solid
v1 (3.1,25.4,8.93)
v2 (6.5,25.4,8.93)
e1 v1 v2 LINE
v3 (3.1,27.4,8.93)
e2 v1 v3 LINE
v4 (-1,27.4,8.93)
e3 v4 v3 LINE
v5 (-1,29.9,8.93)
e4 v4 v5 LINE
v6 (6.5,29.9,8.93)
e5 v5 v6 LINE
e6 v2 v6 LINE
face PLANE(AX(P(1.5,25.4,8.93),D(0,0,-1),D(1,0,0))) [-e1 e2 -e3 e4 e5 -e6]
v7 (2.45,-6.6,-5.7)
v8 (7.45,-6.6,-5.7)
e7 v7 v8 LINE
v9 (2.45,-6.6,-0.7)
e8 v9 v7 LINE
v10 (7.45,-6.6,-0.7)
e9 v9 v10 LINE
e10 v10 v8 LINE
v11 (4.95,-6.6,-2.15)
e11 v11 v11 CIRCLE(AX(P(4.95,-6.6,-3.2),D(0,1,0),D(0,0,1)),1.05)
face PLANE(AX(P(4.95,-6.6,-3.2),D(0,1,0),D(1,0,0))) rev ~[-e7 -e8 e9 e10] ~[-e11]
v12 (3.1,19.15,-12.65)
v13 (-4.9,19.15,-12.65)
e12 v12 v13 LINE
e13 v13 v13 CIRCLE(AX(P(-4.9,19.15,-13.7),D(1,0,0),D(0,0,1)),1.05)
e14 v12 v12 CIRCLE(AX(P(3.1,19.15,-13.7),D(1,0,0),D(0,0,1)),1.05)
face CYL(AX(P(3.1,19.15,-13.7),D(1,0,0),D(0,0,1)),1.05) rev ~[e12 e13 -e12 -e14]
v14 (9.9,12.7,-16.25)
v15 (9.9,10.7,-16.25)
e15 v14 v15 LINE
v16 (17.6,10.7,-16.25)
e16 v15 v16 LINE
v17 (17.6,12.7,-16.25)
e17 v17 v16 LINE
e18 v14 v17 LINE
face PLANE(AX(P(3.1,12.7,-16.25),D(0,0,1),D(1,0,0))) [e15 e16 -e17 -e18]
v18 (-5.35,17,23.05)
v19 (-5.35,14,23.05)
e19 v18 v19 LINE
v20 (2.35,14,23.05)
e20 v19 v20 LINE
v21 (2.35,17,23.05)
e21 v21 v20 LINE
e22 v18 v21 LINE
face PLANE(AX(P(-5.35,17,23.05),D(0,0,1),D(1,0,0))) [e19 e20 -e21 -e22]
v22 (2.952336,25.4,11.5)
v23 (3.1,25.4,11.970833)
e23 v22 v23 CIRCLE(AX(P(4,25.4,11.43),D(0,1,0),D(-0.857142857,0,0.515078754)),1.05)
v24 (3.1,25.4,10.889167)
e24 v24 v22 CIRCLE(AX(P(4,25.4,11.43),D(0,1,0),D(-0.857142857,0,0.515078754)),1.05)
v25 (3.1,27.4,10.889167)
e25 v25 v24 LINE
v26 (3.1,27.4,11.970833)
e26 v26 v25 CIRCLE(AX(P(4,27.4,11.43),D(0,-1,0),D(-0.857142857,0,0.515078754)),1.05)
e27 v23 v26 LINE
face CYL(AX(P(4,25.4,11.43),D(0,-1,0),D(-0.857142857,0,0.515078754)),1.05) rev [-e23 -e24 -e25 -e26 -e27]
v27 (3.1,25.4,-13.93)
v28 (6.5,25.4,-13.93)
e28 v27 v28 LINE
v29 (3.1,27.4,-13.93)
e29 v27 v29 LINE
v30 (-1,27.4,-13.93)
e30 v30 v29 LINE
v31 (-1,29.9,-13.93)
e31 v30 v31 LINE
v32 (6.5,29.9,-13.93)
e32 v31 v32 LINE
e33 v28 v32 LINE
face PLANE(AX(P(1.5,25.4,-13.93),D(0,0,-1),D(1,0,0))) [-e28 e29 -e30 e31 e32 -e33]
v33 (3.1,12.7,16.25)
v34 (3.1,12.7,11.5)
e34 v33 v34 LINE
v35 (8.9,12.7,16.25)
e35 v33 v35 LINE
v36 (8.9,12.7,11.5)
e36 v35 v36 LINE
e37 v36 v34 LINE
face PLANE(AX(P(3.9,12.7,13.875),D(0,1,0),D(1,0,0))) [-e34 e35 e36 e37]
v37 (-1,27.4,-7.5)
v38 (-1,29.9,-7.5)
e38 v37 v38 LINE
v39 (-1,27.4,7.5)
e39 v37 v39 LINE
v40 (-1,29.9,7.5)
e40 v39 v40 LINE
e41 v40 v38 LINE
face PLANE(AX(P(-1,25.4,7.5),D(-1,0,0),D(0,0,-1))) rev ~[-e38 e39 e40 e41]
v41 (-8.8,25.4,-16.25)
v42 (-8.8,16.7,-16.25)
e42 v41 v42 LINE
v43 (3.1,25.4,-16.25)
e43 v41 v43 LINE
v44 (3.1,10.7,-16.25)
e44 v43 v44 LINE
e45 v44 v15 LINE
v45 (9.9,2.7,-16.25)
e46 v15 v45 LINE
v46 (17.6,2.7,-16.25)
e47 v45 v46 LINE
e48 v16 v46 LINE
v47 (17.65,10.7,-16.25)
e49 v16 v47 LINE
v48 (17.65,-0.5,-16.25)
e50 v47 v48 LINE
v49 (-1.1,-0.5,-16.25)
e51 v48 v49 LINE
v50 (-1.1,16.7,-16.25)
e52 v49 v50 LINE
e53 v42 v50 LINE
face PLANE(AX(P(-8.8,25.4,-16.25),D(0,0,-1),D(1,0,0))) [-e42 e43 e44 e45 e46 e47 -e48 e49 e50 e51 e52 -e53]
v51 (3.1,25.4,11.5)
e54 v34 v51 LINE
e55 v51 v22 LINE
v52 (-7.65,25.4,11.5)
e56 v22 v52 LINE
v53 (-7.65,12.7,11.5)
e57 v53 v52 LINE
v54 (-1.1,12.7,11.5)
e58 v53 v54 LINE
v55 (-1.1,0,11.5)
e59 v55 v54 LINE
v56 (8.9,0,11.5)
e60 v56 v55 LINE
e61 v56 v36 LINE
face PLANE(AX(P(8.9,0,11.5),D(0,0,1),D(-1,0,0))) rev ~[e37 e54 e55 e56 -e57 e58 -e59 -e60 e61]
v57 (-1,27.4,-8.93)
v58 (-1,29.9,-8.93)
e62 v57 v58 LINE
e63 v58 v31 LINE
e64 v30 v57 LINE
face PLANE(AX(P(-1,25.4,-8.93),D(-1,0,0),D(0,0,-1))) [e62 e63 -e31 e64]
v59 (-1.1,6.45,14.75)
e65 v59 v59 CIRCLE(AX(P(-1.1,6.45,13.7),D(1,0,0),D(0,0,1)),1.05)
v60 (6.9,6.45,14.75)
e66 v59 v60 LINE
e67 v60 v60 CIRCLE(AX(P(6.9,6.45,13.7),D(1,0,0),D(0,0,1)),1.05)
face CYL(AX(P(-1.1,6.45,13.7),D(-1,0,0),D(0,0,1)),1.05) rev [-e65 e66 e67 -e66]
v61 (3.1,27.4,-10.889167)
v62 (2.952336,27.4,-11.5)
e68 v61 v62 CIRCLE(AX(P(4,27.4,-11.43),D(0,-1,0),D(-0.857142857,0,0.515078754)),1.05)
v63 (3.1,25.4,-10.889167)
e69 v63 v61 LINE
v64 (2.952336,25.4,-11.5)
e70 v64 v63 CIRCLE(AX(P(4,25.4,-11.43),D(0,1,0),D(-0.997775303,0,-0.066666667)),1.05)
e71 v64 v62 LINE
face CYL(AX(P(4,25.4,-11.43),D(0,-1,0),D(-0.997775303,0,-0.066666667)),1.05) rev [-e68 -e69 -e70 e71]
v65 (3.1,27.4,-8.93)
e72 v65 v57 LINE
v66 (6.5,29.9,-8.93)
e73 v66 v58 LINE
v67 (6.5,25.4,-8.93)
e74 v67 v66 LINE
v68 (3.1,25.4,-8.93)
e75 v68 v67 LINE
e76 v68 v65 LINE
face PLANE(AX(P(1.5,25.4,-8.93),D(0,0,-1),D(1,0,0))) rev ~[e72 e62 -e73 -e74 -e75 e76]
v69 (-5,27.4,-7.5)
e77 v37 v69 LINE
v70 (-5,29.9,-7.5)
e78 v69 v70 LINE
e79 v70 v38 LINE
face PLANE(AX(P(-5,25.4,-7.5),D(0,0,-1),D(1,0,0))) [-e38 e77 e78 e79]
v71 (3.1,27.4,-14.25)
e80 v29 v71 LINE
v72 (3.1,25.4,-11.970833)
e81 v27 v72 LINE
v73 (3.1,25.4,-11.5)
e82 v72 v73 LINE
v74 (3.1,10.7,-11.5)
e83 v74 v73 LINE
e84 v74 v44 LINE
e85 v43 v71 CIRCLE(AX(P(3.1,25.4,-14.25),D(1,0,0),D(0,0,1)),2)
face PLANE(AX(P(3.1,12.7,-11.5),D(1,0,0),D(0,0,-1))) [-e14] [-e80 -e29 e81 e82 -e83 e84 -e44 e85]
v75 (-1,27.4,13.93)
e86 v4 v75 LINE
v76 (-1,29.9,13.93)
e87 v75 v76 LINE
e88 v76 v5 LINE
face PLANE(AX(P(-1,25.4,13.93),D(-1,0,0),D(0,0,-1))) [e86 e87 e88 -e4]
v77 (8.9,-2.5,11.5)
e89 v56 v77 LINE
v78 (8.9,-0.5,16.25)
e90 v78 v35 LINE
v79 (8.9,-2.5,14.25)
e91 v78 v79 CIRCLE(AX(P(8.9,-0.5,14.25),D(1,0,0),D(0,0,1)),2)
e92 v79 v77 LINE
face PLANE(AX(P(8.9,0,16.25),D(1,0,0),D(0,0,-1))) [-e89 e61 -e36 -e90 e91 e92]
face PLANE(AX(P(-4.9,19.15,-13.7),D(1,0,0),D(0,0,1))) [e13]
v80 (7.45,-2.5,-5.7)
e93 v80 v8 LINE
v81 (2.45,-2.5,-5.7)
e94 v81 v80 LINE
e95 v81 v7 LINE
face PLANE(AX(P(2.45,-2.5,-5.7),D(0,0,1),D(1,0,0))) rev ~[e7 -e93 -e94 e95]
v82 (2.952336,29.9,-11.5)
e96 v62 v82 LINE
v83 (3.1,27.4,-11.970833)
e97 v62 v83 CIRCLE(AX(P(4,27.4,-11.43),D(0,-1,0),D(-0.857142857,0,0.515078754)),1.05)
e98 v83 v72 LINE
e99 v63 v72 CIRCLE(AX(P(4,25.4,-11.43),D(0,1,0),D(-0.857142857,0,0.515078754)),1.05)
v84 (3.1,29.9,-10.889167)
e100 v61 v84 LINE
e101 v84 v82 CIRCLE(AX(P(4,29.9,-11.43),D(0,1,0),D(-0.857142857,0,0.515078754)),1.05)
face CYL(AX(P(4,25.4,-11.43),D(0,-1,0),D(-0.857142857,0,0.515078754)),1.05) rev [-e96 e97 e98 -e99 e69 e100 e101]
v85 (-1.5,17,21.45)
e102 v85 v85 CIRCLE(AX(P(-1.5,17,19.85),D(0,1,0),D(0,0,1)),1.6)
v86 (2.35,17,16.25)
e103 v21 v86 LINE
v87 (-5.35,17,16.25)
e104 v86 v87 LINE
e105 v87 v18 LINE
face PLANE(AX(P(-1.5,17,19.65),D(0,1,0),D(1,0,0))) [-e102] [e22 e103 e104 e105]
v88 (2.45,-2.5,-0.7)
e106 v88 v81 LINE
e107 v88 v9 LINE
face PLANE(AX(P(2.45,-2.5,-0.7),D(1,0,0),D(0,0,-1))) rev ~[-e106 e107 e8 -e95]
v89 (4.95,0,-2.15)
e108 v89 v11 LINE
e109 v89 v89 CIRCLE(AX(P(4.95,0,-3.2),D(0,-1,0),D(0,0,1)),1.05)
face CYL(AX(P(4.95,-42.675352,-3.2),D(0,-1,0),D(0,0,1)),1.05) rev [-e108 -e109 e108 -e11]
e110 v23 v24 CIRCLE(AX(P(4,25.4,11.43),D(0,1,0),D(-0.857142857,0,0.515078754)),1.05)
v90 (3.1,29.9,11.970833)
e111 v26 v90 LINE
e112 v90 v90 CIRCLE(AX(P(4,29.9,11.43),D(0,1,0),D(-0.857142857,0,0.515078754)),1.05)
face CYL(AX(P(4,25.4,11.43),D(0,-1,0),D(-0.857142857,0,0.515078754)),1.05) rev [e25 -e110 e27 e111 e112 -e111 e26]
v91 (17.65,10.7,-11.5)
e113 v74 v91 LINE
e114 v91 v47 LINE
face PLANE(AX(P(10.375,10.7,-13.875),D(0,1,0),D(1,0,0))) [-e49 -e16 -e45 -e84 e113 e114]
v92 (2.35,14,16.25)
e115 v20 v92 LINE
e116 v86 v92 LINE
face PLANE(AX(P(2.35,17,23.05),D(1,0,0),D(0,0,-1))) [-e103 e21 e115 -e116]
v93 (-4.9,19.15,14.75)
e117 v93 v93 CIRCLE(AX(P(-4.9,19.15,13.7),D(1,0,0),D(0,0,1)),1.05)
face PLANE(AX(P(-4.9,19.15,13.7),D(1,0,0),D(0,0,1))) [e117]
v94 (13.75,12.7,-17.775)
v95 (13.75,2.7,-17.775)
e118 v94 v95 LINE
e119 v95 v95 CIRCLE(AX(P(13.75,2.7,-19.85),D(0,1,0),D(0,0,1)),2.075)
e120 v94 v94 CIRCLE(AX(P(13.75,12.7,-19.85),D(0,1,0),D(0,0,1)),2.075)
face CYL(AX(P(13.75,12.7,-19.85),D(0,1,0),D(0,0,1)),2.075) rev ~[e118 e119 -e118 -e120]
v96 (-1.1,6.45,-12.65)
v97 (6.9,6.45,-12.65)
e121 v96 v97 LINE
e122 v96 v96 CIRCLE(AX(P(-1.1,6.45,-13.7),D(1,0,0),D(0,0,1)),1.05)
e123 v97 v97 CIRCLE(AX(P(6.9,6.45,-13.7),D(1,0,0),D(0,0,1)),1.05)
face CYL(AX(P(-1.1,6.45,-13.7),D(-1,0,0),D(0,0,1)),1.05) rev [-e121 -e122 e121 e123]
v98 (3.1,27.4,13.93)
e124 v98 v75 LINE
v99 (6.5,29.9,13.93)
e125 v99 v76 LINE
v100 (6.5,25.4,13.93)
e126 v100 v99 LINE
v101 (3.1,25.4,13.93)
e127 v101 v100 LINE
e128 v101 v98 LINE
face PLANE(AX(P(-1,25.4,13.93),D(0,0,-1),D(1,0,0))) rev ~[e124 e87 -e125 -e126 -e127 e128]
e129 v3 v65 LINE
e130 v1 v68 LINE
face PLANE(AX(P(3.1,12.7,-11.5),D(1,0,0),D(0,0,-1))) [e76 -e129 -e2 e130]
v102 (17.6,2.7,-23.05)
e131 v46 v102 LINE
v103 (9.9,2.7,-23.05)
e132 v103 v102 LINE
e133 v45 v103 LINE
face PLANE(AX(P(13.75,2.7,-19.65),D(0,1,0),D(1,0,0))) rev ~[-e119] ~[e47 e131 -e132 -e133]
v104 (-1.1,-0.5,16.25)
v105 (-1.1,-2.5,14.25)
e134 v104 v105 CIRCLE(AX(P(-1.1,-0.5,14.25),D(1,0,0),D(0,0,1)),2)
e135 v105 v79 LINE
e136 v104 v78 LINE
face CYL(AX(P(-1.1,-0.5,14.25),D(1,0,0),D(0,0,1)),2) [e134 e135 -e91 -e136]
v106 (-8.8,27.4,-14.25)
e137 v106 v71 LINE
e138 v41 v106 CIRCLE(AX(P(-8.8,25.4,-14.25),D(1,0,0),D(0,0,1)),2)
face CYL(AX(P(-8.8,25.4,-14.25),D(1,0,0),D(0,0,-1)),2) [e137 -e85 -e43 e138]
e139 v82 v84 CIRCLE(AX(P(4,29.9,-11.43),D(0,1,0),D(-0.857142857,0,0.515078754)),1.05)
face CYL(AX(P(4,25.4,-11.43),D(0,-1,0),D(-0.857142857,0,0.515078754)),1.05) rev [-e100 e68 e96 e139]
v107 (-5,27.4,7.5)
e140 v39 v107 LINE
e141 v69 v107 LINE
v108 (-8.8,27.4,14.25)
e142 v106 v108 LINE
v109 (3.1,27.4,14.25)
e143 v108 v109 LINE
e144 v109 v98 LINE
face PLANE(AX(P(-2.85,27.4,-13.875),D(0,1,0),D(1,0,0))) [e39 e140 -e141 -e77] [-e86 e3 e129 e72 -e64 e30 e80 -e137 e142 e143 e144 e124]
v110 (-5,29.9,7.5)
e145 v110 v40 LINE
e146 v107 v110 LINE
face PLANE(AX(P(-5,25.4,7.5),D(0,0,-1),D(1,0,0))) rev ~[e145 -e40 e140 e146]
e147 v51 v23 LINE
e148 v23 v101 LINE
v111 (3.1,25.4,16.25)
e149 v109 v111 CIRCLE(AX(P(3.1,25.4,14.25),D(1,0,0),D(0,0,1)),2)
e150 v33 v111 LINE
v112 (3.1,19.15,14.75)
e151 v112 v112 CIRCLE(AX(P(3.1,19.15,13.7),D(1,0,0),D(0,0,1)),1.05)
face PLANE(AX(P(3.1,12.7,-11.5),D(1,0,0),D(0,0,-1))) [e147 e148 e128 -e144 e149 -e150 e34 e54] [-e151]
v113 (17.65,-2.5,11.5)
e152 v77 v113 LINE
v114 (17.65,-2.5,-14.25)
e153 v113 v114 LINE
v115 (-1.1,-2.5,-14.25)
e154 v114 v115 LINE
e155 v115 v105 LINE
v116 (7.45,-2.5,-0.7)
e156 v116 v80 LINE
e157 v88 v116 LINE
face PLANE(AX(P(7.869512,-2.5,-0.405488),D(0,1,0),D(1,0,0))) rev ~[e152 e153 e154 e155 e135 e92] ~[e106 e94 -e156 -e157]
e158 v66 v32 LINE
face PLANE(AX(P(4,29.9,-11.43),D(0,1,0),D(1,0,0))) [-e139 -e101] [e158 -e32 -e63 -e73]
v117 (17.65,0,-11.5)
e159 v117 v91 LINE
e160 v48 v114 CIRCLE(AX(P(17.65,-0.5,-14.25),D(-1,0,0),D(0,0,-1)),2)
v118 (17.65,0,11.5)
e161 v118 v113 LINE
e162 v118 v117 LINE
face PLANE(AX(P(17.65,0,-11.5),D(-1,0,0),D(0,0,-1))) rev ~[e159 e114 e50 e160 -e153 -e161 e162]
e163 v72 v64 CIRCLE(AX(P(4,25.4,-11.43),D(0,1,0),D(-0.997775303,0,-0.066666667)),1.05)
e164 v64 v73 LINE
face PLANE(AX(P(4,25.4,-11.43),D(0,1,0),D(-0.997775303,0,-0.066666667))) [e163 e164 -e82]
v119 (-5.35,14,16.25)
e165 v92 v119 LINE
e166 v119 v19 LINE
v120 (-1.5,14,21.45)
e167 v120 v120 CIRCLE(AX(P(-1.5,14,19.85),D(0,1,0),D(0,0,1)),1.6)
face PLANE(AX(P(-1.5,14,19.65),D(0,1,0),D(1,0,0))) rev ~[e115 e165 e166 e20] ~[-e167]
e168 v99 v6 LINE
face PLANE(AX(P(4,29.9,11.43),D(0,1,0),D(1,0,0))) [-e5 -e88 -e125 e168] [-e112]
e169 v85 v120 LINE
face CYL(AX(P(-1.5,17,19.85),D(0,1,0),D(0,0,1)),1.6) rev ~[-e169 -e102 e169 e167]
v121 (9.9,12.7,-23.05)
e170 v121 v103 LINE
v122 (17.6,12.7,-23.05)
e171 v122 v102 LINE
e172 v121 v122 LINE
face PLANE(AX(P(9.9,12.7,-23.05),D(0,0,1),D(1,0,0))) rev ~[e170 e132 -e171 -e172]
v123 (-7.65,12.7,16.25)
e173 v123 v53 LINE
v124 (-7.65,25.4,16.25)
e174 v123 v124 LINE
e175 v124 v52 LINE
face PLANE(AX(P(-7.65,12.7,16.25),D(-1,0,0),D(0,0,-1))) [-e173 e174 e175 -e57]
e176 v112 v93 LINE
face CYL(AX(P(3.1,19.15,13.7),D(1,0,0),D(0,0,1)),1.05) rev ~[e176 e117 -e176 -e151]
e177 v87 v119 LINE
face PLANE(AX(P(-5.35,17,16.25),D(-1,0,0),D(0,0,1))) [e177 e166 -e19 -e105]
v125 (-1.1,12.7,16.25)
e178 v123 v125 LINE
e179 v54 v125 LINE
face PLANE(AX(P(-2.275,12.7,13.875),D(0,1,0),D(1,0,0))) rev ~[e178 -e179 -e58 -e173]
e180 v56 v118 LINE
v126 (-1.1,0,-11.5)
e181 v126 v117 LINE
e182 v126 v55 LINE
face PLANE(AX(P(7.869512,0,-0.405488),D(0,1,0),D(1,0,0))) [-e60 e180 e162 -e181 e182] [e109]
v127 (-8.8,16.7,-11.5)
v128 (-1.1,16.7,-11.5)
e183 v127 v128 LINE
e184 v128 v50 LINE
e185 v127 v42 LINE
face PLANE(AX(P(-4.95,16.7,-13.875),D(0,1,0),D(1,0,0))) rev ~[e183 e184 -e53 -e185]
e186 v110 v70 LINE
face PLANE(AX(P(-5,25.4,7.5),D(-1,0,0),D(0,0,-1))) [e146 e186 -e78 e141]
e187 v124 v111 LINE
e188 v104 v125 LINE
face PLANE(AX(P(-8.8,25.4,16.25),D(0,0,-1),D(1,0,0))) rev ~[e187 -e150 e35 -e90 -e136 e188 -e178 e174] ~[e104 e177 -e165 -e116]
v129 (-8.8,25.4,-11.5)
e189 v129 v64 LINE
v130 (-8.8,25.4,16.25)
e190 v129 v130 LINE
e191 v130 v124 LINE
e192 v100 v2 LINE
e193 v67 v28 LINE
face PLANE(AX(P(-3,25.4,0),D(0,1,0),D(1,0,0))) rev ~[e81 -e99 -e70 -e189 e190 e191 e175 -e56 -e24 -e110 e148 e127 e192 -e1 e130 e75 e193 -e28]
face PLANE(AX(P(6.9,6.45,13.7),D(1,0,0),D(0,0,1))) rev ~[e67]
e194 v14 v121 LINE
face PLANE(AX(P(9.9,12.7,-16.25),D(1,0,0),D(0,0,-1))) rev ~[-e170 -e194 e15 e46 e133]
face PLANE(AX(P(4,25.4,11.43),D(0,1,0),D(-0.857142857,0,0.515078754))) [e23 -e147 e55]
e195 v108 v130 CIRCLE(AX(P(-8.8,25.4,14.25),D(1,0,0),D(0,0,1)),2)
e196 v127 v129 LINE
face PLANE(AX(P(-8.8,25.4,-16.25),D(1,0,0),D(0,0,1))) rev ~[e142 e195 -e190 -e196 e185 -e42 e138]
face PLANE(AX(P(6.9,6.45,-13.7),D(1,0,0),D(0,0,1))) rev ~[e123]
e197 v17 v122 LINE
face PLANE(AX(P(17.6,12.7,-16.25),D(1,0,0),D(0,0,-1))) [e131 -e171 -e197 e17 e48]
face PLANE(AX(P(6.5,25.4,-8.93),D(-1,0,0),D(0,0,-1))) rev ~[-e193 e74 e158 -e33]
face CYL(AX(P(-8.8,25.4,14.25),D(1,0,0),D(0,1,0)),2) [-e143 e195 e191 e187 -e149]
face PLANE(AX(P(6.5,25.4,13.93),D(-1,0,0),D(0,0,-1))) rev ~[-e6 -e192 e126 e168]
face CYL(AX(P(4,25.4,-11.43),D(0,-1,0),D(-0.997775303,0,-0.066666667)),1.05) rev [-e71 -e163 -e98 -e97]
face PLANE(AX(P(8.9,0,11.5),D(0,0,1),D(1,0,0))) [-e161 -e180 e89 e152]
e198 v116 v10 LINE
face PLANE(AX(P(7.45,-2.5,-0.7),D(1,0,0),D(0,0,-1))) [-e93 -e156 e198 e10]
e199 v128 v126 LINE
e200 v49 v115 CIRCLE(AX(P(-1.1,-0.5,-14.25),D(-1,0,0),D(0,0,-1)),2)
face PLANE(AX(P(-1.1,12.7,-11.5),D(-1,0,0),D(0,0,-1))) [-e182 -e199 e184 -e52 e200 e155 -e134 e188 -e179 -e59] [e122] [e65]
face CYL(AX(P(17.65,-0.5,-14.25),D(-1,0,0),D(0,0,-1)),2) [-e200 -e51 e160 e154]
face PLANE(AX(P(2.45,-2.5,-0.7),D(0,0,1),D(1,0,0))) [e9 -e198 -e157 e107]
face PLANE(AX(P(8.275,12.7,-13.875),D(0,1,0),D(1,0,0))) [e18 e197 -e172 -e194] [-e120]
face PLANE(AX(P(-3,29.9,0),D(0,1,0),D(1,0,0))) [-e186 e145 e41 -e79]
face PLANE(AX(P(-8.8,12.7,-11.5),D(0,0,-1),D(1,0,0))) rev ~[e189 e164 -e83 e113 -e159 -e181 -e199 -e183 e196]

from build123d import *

# Parameters (mm, degrees)
BOSS_EXTRUDE1_DEPTH      = 2.5
BOSS_EXTRUDE2_DEPTH      = 12.7
BOSS_EXTRUDE3_START      = 12.7
SKETCH3_W                = 11.9
SKETCH3_H                = 4.75
SKETCH3_W_2              = 10.75
BOSS_EXTRUDE3_DEPTH      = 12.7
BOSS_EXTRUDE4_START      = 25.4
SKETCH3_3_W              = 11.9
SKETCH3_3_H              = 4.75
SKETCH3_3_W_2            = 10.75
SKETCH3_3_W_3            = 1.15
BOSS_EXTRUDE4_DEPTH      = 2
CUT_EXTRUDE1_START       = -1.1
SKETCH2_R                = 1.05
CUT_EXTRUDE1_DEPTH       = 8
CUT_EXTRUDE2_START       = 3.1
SKETCH2_3_R              = 1.05
CUT_EXTRUDE2_DEPTH       = 8
BOSS_EXTRUDE5_START      = 17
SKETCH1_4_R              = 1.6
BOSS_EXTRUDE5_DEPTH      = 3
BOSS_EXTRUDE6_START      = 12.7
SKETCH1_7_W              = 7.7
SKETCH1_7_H              = 6.8
SKETCH1_7_R              = 2.075
BOSS_EXTRUDE6_DEPTH      = 10
FILLET1_R                = 2
CUT_EXTRUDE3_START       = 12.7
SKETCH5_W                = 14.55
SKETCH5_H                = 4.75
CUT_EXTRUDE3_DEPTH       = 2
CUT_EXTRUDE4_START       = 12.7
SKETCH6_W                = 7.7
SKETCH6_H                = 4.75
CUT_EXTRUDE4_DEPTH       = 4
BOSS_EXTRUDE7_DEPTH      = 2.5
BOSS_EXTRUDE7_DEPTH_BACK = 2
BOSS_EXTRUDE7_START      = 27.4
SKETCH7_W                = 4
SKETCH7_H                = 15
SKETCH7_W_2              = 5
SKETCH7_H_2              = 5
SKETCH7_R                = 1.05
SKETCH7_W_3              = 2.5
BOSS_EXTRUDE8_START      = -2.5
SKETCH8_W                = 5
SKETCH8_H                = 5
SKETCH8_R                = 1.05
BOSS_EXTRUDE8_DEPTH      = 4.1
CUT_EXTRUDE5_DEPTH       = 42.675352428
CUT_EXTRUDE5_DEPTH_BACK  = 42.675352428
SKETCH8_2_R              = 1.05
CUT_EXTRUDE6_START       = 25.4
SKETCH7_4_R              = 1.05
CUT_EXTRUDE6_DEPTH       = 4.5


with BuildPart() as part:
    # Sketch1 → Boss-Extrude1 (new body)
    with BuildSketch(Plane(origin=(0, 0, 0), x_dir=(1, 0, 0), z_dir=(0, 1, 0))):
        Polygon((-1.1, 16.25), (-1.1, -16.25), (8.9, -16.25), (8.9, -11.5), (17.65, -11.5), (17.65, 16.25), align=None)
    extrude(amount=-BOSS_EXTRUDE1_DEPTH)

    # Sketch1<3> → Boss-Extrude2 (add)
    with BuildSketch(Plane(origin=(0, 0, 0), x_dir=(1, 0, 0), z_dir=(0, 1, 0))):
        Polygon((9.9, 16.25), (-1.1, 16.25), (-1.1, 11.5), (17.65, 11.5), (17.65, 16.25), (17.6, 16.25), align=None)
        Polygon((8.9, -11.5), (-1.1, -11.5), (-1.1, -16.25), (2.35, -16.25), (8.9, -16.25), align=None)
    extrude(amount=BOSS_EXTRUDE2_DEPTH)

    # Sketch3 → Boss-Extrude3 (add)
    with BuildSketch(Plane(origin=(0, 0, 0), x_dir=(1, 0, 0), z_dir=(0, 1, 0)).offset(BOSS_EXTRUDE3_START)):
        with Locations((-2.85, 13.875)):
            Rectangle(SKETCH3_W, SKETCH3_H)
        with Locations((-2.275, -13.875)):
            Rectangle(SKETCH3_W_2, SKETCH3_H)
    extrude(amount=BOSS_EXTRUDE3_DEPTH)

    # Sketch3<3> → Boss-Extrude4 (add)
    with BuildSketch(Plane(origin=(0, 0, 0), x_dir=(1, 0, 0), z_dir=(0, 1, 0)).offset(BOSS_EXTRUDE4_START)):
        with Locations((-2.85, 13.875)):
            Rectangle(SKETCH3_3_W, SKETCH3_3_H)
        Polygon((3.1, -11.5), (3.1, 11.5), (-8.8, 11.5), (-8.8, -11.5), (-7.65, -11.5), align=None)
        with Locations((-2.275, -13.875)):
            Rectangle(SKETCH3_3_W_2, SKETCH3_3_H)
        with Locations((-8.225, -13.875)):
            Rectangle(SKETCH3_3_W_3, SKETCH3_3_H)
    extrude(amount=BOSS_EXTRUDE4_DEPTH)

    # Sketch2 → Cut-Extrude1 (cut)
    with BuildSketch(Plane(origin=(0, 0, 0), x_dir=(0, 0, -1), z_dir=(1, 0, 0)).offset(CUT_EXTRUDE1_START)):
        with Locations(Location((-13.7, 6.45, 0), (0, 0, 180))):
            Circle(SKETCH2_R)
        with Locations(Location((13.7, 6.45, 0), (0, 0, 180))):
            Circle(SKETCH2_R)
    extrude(amount=CUT_EXTRUDE1_DEPTH, mode=Mode.SUBTRACT)

    # Sketch2<3> → Cut-Extrude2 (cut)
    with BuildSketch(Plane(origin=(0, 0, 0), x_dir=(0, 0, -1), z_dir=(1, 0, 0)).offset(CUT_EXTRUDE2_START)):
        with Locations(Location((13.7, 19.15, 0), (0, 0, 180))):
            Circle(SKETCH2_3_R)
        with Locations(Location((-13.7, 19.15, 0), (0, 0, 180))):
            Circle(SKETCH2_3_R)
    extrude(amount=-CUT_EXTRUDE2_DEPTH, mode=Mode.SUBTRACT)

    # Sketch1<4> → Boss-Extrude5 (add)
    with BuildSketch(Plane(origin=(0, 0, 0), x_dir=(1, 0, 0), z_dir=(0, 1, 0)).offset(BOSS_EXTRUDE5_START)):
        Polygon((2.35, -16.25), (-1.1, -16.25), (-3.8, -16.25), (-5.35, -16.25), (-5.35, -23.05), (2.35, -23.05), align=None)
        with Locations(Location((-1.5, -19.85, 0), (0, 0, 270))):
            Circle(SKETCH1_4_R, mode=Mode.SUBTRACT)
    extrude(amount=-BOSS_EXTRUDE5_DEPTH)

    # Sketch1<7> → Boss-Extrude6 (add)
    with BuildSketch(Plane(origin=(0, 0, 0), x_dir=(1, 0, 0), z_dir=(0, 1, 0)).offset(BOSS_EXTRUDE6_START)):
        with Locations((13.75, 19.65)):
            Rectangle(SKETCH1_7_W, SKETCH1_7_H)
        with Locations(Location((13.75, 19.85, 0), (0, 0, 270))):
            Circle(SKETCH1_7_R, mode=Mode.SUBTRACT)
    extrude(amount=-BOSS_EXTRUDE6_DEPTH)

    # Fillet1
    fillet1_edges = [part.edges().sort_by_distance(p)[0] for p in [
        (3.9, -2.5, 16.25),
        (-2.85, 27.4, 16.25),
        (8.275, -2.5, -16.25),
        (-2.85, 27.4, -16.25),
    ]]
    fillet(fillet1_edges, radius=FILLET1_R)

    # Sketch5 → Cut-Extrude3 (cut)
    with BuildSketch(Plane(origin=(0, 0, 0), x_dir=(1, 0, 0), z_dir=(0, 1, 0)).offset(CUT_EXTRUDE3_START)):
        with Locations((10.375, 13.875)):
            Rectangle(SKETCH5_W, SKETCH5_H)
    extrude(amount=-CUT_EXTRUDE3_DEPTH, mode=Mode.SUBTRACT)

    # Sketch6 → Cut-Extrude4 (cut)
    with BuildSketch(Plane(origin=(0, 0, 0), x_dir=(1, 0, 0), z_dir=(0, 1, 0)).offset(CUT_EXTRUDE4_START)):
        with Locations((-4.95, 13.875)):
            Rectangle(SKETCH6_W, SKETCH6_H)
    extrude(amount=CUT_EXTRUDE4_DEPTH, mode=Mode.SUBTRACT)

    # Sketch7 → Boss-Extrude7 (add, two sides: drawn at the far end of the back side and taken through both)
    # profile 1 of 5: a face of its own
    with BuildSketch(Plane(origin=(0, 0, 0), x_dir=(1, 0, 0), z_dir=(0, 1, 0)).offset(BOSS_EXTRUDE7_START - BOSS_EXTRUDE7_DEPTH_BACK)):
        with Locations((-3, 0)):
            Rectangle(SKETCH7_W, SKETCH7_H)
    # profile 2 of 5: a face of its own
    with BuildSketch(Plane(origin=(0, 0, 0), x_dir=(1, 0, 0), z_dir=(0, 1, 0)).offset(BOSS_EXTRUDE7_START - BOSS_EXTRUDE7_DEPTH_BACK)):
        with Locations((4, -11.43)):
            Rectangle(SKETCH7_W_2, SKETCH7_H_2)
        with Locations(Location((4, -11.43, 0), (0, 0, 211.002719134))):
            Circle(SKETCH7_R, mode=Mode.SUBTRACT)
    # profile 3 of 5: a face of its own
    with BuildSketch(Plane(origin=(0, 0, 0), x_dir=(1, 0, 0), z_dir=(0, 1, 0)).offset(BOSS_EXTRUDE7_START - BOSS_EXTRUDE7_DEPTH_BACK)):
        with Locations((0.25, -11.43)):
            Rectangle(SKETCH7_W_3, SKETCH7_H_2)
    # profile 4 of 5: a face of its own
    with BuildSketch(Plane(origin=(0, 0, 0), x_dir=(1, 0, 0), z_dir=(0, 1, 0)).offset(BOSS_EXTRUDE7_START - BOSS_EXTRUDE7_DEPTH_BACK)):
        with Locations((0.25, 11.43)):
            Rectangle(SKETCH7_W_3, SKETCH7_H_2)
    # profile 5 of 5: a face of its own
    with BuildSketch(Plane(origin=(0, 0, 0), x_dir=(1, 0, 0), z_dir=(0, 1, 0)).offset(BOSS_EXTRUDE7_START - BOSS_EXTRUDE7_DEPTH_BACK)):
        with Locations((4, 11.43)):
            Rectangle(SKETCH7_W_2, SKETCH7_H_2)
        with Locations(Location((4, 11.43, 0), (0, 0, 211.002719134))):
            Circle(SKETCH7_R, mode=Mode.SUBTRACT)
    extrude(amount=BOSS_EXTRUDE7_DEPTH + BOSS_EXTRUDE7_DEPTH_BACK)

    # Sketch8 → Boss-Extrude8 (add)
    with BuildSketch(Plane(origin=(0, 0, 0), x_dir=(1, 0, 0), z_dir=(0, 1, 0)).offset(BOSS_EXTRUDE8_START)):
        with Locations((4.95, 3.2)):
            Rectangle(SKETCH8_W, SKETCH8_H)
        with Locations(Location((4.95, 3.2, 0), (0, 0, 270))):
            Circle(SKETCH8_R, mode=Mode.SUBTRACT)
    extrude(amount=-BOSS_EXTRUDE8_DEPTH)

    # Sketch8<2> → Cut-Extrude5 (cut, two sides: drawn at the far end of the back side and taken through both)
    with BuildSketch(Plane(origin=(0, 0, 0), x_dir=(1, 0, 0), z_dir=(0, 1, 0)).offset(-CUT_EXTRUDE5_DEPTH_BACK)):
        with Locations(Location((4.95, 3.2, 0), (0, 0, 270))):
            Circle(SKETCH8_2_R)
    extrude(amount=CUT_EXTRUDE5_DEPTH + CUT_EXTRUDE5_DEPTH_BACK, mode=Mode.SUBTRACT)

    # Sketch7<4> → Cut-Extrude6 (cut)
    with BuildSketch(Plane(origin=(0, 0, 0), x_dir=(1, 0, 0), z_dir=(0, 1, 0)).offset(CUT_EXTRUDE6_START)):
        with Locations(Location((4, 11.43, 0), (0, 0, 176.177446271))):
            Circle(SKETCH7_4_R)
        with Locations(Location((4, -11.43, 0), (0, 0, 211.002719134))):
            Circle(SKETCH7_4_R)
    extrude(amount=CUT_EXTRUDE6_DEPTH, mode=Mode.SUBTRACT)


solid = part.part
